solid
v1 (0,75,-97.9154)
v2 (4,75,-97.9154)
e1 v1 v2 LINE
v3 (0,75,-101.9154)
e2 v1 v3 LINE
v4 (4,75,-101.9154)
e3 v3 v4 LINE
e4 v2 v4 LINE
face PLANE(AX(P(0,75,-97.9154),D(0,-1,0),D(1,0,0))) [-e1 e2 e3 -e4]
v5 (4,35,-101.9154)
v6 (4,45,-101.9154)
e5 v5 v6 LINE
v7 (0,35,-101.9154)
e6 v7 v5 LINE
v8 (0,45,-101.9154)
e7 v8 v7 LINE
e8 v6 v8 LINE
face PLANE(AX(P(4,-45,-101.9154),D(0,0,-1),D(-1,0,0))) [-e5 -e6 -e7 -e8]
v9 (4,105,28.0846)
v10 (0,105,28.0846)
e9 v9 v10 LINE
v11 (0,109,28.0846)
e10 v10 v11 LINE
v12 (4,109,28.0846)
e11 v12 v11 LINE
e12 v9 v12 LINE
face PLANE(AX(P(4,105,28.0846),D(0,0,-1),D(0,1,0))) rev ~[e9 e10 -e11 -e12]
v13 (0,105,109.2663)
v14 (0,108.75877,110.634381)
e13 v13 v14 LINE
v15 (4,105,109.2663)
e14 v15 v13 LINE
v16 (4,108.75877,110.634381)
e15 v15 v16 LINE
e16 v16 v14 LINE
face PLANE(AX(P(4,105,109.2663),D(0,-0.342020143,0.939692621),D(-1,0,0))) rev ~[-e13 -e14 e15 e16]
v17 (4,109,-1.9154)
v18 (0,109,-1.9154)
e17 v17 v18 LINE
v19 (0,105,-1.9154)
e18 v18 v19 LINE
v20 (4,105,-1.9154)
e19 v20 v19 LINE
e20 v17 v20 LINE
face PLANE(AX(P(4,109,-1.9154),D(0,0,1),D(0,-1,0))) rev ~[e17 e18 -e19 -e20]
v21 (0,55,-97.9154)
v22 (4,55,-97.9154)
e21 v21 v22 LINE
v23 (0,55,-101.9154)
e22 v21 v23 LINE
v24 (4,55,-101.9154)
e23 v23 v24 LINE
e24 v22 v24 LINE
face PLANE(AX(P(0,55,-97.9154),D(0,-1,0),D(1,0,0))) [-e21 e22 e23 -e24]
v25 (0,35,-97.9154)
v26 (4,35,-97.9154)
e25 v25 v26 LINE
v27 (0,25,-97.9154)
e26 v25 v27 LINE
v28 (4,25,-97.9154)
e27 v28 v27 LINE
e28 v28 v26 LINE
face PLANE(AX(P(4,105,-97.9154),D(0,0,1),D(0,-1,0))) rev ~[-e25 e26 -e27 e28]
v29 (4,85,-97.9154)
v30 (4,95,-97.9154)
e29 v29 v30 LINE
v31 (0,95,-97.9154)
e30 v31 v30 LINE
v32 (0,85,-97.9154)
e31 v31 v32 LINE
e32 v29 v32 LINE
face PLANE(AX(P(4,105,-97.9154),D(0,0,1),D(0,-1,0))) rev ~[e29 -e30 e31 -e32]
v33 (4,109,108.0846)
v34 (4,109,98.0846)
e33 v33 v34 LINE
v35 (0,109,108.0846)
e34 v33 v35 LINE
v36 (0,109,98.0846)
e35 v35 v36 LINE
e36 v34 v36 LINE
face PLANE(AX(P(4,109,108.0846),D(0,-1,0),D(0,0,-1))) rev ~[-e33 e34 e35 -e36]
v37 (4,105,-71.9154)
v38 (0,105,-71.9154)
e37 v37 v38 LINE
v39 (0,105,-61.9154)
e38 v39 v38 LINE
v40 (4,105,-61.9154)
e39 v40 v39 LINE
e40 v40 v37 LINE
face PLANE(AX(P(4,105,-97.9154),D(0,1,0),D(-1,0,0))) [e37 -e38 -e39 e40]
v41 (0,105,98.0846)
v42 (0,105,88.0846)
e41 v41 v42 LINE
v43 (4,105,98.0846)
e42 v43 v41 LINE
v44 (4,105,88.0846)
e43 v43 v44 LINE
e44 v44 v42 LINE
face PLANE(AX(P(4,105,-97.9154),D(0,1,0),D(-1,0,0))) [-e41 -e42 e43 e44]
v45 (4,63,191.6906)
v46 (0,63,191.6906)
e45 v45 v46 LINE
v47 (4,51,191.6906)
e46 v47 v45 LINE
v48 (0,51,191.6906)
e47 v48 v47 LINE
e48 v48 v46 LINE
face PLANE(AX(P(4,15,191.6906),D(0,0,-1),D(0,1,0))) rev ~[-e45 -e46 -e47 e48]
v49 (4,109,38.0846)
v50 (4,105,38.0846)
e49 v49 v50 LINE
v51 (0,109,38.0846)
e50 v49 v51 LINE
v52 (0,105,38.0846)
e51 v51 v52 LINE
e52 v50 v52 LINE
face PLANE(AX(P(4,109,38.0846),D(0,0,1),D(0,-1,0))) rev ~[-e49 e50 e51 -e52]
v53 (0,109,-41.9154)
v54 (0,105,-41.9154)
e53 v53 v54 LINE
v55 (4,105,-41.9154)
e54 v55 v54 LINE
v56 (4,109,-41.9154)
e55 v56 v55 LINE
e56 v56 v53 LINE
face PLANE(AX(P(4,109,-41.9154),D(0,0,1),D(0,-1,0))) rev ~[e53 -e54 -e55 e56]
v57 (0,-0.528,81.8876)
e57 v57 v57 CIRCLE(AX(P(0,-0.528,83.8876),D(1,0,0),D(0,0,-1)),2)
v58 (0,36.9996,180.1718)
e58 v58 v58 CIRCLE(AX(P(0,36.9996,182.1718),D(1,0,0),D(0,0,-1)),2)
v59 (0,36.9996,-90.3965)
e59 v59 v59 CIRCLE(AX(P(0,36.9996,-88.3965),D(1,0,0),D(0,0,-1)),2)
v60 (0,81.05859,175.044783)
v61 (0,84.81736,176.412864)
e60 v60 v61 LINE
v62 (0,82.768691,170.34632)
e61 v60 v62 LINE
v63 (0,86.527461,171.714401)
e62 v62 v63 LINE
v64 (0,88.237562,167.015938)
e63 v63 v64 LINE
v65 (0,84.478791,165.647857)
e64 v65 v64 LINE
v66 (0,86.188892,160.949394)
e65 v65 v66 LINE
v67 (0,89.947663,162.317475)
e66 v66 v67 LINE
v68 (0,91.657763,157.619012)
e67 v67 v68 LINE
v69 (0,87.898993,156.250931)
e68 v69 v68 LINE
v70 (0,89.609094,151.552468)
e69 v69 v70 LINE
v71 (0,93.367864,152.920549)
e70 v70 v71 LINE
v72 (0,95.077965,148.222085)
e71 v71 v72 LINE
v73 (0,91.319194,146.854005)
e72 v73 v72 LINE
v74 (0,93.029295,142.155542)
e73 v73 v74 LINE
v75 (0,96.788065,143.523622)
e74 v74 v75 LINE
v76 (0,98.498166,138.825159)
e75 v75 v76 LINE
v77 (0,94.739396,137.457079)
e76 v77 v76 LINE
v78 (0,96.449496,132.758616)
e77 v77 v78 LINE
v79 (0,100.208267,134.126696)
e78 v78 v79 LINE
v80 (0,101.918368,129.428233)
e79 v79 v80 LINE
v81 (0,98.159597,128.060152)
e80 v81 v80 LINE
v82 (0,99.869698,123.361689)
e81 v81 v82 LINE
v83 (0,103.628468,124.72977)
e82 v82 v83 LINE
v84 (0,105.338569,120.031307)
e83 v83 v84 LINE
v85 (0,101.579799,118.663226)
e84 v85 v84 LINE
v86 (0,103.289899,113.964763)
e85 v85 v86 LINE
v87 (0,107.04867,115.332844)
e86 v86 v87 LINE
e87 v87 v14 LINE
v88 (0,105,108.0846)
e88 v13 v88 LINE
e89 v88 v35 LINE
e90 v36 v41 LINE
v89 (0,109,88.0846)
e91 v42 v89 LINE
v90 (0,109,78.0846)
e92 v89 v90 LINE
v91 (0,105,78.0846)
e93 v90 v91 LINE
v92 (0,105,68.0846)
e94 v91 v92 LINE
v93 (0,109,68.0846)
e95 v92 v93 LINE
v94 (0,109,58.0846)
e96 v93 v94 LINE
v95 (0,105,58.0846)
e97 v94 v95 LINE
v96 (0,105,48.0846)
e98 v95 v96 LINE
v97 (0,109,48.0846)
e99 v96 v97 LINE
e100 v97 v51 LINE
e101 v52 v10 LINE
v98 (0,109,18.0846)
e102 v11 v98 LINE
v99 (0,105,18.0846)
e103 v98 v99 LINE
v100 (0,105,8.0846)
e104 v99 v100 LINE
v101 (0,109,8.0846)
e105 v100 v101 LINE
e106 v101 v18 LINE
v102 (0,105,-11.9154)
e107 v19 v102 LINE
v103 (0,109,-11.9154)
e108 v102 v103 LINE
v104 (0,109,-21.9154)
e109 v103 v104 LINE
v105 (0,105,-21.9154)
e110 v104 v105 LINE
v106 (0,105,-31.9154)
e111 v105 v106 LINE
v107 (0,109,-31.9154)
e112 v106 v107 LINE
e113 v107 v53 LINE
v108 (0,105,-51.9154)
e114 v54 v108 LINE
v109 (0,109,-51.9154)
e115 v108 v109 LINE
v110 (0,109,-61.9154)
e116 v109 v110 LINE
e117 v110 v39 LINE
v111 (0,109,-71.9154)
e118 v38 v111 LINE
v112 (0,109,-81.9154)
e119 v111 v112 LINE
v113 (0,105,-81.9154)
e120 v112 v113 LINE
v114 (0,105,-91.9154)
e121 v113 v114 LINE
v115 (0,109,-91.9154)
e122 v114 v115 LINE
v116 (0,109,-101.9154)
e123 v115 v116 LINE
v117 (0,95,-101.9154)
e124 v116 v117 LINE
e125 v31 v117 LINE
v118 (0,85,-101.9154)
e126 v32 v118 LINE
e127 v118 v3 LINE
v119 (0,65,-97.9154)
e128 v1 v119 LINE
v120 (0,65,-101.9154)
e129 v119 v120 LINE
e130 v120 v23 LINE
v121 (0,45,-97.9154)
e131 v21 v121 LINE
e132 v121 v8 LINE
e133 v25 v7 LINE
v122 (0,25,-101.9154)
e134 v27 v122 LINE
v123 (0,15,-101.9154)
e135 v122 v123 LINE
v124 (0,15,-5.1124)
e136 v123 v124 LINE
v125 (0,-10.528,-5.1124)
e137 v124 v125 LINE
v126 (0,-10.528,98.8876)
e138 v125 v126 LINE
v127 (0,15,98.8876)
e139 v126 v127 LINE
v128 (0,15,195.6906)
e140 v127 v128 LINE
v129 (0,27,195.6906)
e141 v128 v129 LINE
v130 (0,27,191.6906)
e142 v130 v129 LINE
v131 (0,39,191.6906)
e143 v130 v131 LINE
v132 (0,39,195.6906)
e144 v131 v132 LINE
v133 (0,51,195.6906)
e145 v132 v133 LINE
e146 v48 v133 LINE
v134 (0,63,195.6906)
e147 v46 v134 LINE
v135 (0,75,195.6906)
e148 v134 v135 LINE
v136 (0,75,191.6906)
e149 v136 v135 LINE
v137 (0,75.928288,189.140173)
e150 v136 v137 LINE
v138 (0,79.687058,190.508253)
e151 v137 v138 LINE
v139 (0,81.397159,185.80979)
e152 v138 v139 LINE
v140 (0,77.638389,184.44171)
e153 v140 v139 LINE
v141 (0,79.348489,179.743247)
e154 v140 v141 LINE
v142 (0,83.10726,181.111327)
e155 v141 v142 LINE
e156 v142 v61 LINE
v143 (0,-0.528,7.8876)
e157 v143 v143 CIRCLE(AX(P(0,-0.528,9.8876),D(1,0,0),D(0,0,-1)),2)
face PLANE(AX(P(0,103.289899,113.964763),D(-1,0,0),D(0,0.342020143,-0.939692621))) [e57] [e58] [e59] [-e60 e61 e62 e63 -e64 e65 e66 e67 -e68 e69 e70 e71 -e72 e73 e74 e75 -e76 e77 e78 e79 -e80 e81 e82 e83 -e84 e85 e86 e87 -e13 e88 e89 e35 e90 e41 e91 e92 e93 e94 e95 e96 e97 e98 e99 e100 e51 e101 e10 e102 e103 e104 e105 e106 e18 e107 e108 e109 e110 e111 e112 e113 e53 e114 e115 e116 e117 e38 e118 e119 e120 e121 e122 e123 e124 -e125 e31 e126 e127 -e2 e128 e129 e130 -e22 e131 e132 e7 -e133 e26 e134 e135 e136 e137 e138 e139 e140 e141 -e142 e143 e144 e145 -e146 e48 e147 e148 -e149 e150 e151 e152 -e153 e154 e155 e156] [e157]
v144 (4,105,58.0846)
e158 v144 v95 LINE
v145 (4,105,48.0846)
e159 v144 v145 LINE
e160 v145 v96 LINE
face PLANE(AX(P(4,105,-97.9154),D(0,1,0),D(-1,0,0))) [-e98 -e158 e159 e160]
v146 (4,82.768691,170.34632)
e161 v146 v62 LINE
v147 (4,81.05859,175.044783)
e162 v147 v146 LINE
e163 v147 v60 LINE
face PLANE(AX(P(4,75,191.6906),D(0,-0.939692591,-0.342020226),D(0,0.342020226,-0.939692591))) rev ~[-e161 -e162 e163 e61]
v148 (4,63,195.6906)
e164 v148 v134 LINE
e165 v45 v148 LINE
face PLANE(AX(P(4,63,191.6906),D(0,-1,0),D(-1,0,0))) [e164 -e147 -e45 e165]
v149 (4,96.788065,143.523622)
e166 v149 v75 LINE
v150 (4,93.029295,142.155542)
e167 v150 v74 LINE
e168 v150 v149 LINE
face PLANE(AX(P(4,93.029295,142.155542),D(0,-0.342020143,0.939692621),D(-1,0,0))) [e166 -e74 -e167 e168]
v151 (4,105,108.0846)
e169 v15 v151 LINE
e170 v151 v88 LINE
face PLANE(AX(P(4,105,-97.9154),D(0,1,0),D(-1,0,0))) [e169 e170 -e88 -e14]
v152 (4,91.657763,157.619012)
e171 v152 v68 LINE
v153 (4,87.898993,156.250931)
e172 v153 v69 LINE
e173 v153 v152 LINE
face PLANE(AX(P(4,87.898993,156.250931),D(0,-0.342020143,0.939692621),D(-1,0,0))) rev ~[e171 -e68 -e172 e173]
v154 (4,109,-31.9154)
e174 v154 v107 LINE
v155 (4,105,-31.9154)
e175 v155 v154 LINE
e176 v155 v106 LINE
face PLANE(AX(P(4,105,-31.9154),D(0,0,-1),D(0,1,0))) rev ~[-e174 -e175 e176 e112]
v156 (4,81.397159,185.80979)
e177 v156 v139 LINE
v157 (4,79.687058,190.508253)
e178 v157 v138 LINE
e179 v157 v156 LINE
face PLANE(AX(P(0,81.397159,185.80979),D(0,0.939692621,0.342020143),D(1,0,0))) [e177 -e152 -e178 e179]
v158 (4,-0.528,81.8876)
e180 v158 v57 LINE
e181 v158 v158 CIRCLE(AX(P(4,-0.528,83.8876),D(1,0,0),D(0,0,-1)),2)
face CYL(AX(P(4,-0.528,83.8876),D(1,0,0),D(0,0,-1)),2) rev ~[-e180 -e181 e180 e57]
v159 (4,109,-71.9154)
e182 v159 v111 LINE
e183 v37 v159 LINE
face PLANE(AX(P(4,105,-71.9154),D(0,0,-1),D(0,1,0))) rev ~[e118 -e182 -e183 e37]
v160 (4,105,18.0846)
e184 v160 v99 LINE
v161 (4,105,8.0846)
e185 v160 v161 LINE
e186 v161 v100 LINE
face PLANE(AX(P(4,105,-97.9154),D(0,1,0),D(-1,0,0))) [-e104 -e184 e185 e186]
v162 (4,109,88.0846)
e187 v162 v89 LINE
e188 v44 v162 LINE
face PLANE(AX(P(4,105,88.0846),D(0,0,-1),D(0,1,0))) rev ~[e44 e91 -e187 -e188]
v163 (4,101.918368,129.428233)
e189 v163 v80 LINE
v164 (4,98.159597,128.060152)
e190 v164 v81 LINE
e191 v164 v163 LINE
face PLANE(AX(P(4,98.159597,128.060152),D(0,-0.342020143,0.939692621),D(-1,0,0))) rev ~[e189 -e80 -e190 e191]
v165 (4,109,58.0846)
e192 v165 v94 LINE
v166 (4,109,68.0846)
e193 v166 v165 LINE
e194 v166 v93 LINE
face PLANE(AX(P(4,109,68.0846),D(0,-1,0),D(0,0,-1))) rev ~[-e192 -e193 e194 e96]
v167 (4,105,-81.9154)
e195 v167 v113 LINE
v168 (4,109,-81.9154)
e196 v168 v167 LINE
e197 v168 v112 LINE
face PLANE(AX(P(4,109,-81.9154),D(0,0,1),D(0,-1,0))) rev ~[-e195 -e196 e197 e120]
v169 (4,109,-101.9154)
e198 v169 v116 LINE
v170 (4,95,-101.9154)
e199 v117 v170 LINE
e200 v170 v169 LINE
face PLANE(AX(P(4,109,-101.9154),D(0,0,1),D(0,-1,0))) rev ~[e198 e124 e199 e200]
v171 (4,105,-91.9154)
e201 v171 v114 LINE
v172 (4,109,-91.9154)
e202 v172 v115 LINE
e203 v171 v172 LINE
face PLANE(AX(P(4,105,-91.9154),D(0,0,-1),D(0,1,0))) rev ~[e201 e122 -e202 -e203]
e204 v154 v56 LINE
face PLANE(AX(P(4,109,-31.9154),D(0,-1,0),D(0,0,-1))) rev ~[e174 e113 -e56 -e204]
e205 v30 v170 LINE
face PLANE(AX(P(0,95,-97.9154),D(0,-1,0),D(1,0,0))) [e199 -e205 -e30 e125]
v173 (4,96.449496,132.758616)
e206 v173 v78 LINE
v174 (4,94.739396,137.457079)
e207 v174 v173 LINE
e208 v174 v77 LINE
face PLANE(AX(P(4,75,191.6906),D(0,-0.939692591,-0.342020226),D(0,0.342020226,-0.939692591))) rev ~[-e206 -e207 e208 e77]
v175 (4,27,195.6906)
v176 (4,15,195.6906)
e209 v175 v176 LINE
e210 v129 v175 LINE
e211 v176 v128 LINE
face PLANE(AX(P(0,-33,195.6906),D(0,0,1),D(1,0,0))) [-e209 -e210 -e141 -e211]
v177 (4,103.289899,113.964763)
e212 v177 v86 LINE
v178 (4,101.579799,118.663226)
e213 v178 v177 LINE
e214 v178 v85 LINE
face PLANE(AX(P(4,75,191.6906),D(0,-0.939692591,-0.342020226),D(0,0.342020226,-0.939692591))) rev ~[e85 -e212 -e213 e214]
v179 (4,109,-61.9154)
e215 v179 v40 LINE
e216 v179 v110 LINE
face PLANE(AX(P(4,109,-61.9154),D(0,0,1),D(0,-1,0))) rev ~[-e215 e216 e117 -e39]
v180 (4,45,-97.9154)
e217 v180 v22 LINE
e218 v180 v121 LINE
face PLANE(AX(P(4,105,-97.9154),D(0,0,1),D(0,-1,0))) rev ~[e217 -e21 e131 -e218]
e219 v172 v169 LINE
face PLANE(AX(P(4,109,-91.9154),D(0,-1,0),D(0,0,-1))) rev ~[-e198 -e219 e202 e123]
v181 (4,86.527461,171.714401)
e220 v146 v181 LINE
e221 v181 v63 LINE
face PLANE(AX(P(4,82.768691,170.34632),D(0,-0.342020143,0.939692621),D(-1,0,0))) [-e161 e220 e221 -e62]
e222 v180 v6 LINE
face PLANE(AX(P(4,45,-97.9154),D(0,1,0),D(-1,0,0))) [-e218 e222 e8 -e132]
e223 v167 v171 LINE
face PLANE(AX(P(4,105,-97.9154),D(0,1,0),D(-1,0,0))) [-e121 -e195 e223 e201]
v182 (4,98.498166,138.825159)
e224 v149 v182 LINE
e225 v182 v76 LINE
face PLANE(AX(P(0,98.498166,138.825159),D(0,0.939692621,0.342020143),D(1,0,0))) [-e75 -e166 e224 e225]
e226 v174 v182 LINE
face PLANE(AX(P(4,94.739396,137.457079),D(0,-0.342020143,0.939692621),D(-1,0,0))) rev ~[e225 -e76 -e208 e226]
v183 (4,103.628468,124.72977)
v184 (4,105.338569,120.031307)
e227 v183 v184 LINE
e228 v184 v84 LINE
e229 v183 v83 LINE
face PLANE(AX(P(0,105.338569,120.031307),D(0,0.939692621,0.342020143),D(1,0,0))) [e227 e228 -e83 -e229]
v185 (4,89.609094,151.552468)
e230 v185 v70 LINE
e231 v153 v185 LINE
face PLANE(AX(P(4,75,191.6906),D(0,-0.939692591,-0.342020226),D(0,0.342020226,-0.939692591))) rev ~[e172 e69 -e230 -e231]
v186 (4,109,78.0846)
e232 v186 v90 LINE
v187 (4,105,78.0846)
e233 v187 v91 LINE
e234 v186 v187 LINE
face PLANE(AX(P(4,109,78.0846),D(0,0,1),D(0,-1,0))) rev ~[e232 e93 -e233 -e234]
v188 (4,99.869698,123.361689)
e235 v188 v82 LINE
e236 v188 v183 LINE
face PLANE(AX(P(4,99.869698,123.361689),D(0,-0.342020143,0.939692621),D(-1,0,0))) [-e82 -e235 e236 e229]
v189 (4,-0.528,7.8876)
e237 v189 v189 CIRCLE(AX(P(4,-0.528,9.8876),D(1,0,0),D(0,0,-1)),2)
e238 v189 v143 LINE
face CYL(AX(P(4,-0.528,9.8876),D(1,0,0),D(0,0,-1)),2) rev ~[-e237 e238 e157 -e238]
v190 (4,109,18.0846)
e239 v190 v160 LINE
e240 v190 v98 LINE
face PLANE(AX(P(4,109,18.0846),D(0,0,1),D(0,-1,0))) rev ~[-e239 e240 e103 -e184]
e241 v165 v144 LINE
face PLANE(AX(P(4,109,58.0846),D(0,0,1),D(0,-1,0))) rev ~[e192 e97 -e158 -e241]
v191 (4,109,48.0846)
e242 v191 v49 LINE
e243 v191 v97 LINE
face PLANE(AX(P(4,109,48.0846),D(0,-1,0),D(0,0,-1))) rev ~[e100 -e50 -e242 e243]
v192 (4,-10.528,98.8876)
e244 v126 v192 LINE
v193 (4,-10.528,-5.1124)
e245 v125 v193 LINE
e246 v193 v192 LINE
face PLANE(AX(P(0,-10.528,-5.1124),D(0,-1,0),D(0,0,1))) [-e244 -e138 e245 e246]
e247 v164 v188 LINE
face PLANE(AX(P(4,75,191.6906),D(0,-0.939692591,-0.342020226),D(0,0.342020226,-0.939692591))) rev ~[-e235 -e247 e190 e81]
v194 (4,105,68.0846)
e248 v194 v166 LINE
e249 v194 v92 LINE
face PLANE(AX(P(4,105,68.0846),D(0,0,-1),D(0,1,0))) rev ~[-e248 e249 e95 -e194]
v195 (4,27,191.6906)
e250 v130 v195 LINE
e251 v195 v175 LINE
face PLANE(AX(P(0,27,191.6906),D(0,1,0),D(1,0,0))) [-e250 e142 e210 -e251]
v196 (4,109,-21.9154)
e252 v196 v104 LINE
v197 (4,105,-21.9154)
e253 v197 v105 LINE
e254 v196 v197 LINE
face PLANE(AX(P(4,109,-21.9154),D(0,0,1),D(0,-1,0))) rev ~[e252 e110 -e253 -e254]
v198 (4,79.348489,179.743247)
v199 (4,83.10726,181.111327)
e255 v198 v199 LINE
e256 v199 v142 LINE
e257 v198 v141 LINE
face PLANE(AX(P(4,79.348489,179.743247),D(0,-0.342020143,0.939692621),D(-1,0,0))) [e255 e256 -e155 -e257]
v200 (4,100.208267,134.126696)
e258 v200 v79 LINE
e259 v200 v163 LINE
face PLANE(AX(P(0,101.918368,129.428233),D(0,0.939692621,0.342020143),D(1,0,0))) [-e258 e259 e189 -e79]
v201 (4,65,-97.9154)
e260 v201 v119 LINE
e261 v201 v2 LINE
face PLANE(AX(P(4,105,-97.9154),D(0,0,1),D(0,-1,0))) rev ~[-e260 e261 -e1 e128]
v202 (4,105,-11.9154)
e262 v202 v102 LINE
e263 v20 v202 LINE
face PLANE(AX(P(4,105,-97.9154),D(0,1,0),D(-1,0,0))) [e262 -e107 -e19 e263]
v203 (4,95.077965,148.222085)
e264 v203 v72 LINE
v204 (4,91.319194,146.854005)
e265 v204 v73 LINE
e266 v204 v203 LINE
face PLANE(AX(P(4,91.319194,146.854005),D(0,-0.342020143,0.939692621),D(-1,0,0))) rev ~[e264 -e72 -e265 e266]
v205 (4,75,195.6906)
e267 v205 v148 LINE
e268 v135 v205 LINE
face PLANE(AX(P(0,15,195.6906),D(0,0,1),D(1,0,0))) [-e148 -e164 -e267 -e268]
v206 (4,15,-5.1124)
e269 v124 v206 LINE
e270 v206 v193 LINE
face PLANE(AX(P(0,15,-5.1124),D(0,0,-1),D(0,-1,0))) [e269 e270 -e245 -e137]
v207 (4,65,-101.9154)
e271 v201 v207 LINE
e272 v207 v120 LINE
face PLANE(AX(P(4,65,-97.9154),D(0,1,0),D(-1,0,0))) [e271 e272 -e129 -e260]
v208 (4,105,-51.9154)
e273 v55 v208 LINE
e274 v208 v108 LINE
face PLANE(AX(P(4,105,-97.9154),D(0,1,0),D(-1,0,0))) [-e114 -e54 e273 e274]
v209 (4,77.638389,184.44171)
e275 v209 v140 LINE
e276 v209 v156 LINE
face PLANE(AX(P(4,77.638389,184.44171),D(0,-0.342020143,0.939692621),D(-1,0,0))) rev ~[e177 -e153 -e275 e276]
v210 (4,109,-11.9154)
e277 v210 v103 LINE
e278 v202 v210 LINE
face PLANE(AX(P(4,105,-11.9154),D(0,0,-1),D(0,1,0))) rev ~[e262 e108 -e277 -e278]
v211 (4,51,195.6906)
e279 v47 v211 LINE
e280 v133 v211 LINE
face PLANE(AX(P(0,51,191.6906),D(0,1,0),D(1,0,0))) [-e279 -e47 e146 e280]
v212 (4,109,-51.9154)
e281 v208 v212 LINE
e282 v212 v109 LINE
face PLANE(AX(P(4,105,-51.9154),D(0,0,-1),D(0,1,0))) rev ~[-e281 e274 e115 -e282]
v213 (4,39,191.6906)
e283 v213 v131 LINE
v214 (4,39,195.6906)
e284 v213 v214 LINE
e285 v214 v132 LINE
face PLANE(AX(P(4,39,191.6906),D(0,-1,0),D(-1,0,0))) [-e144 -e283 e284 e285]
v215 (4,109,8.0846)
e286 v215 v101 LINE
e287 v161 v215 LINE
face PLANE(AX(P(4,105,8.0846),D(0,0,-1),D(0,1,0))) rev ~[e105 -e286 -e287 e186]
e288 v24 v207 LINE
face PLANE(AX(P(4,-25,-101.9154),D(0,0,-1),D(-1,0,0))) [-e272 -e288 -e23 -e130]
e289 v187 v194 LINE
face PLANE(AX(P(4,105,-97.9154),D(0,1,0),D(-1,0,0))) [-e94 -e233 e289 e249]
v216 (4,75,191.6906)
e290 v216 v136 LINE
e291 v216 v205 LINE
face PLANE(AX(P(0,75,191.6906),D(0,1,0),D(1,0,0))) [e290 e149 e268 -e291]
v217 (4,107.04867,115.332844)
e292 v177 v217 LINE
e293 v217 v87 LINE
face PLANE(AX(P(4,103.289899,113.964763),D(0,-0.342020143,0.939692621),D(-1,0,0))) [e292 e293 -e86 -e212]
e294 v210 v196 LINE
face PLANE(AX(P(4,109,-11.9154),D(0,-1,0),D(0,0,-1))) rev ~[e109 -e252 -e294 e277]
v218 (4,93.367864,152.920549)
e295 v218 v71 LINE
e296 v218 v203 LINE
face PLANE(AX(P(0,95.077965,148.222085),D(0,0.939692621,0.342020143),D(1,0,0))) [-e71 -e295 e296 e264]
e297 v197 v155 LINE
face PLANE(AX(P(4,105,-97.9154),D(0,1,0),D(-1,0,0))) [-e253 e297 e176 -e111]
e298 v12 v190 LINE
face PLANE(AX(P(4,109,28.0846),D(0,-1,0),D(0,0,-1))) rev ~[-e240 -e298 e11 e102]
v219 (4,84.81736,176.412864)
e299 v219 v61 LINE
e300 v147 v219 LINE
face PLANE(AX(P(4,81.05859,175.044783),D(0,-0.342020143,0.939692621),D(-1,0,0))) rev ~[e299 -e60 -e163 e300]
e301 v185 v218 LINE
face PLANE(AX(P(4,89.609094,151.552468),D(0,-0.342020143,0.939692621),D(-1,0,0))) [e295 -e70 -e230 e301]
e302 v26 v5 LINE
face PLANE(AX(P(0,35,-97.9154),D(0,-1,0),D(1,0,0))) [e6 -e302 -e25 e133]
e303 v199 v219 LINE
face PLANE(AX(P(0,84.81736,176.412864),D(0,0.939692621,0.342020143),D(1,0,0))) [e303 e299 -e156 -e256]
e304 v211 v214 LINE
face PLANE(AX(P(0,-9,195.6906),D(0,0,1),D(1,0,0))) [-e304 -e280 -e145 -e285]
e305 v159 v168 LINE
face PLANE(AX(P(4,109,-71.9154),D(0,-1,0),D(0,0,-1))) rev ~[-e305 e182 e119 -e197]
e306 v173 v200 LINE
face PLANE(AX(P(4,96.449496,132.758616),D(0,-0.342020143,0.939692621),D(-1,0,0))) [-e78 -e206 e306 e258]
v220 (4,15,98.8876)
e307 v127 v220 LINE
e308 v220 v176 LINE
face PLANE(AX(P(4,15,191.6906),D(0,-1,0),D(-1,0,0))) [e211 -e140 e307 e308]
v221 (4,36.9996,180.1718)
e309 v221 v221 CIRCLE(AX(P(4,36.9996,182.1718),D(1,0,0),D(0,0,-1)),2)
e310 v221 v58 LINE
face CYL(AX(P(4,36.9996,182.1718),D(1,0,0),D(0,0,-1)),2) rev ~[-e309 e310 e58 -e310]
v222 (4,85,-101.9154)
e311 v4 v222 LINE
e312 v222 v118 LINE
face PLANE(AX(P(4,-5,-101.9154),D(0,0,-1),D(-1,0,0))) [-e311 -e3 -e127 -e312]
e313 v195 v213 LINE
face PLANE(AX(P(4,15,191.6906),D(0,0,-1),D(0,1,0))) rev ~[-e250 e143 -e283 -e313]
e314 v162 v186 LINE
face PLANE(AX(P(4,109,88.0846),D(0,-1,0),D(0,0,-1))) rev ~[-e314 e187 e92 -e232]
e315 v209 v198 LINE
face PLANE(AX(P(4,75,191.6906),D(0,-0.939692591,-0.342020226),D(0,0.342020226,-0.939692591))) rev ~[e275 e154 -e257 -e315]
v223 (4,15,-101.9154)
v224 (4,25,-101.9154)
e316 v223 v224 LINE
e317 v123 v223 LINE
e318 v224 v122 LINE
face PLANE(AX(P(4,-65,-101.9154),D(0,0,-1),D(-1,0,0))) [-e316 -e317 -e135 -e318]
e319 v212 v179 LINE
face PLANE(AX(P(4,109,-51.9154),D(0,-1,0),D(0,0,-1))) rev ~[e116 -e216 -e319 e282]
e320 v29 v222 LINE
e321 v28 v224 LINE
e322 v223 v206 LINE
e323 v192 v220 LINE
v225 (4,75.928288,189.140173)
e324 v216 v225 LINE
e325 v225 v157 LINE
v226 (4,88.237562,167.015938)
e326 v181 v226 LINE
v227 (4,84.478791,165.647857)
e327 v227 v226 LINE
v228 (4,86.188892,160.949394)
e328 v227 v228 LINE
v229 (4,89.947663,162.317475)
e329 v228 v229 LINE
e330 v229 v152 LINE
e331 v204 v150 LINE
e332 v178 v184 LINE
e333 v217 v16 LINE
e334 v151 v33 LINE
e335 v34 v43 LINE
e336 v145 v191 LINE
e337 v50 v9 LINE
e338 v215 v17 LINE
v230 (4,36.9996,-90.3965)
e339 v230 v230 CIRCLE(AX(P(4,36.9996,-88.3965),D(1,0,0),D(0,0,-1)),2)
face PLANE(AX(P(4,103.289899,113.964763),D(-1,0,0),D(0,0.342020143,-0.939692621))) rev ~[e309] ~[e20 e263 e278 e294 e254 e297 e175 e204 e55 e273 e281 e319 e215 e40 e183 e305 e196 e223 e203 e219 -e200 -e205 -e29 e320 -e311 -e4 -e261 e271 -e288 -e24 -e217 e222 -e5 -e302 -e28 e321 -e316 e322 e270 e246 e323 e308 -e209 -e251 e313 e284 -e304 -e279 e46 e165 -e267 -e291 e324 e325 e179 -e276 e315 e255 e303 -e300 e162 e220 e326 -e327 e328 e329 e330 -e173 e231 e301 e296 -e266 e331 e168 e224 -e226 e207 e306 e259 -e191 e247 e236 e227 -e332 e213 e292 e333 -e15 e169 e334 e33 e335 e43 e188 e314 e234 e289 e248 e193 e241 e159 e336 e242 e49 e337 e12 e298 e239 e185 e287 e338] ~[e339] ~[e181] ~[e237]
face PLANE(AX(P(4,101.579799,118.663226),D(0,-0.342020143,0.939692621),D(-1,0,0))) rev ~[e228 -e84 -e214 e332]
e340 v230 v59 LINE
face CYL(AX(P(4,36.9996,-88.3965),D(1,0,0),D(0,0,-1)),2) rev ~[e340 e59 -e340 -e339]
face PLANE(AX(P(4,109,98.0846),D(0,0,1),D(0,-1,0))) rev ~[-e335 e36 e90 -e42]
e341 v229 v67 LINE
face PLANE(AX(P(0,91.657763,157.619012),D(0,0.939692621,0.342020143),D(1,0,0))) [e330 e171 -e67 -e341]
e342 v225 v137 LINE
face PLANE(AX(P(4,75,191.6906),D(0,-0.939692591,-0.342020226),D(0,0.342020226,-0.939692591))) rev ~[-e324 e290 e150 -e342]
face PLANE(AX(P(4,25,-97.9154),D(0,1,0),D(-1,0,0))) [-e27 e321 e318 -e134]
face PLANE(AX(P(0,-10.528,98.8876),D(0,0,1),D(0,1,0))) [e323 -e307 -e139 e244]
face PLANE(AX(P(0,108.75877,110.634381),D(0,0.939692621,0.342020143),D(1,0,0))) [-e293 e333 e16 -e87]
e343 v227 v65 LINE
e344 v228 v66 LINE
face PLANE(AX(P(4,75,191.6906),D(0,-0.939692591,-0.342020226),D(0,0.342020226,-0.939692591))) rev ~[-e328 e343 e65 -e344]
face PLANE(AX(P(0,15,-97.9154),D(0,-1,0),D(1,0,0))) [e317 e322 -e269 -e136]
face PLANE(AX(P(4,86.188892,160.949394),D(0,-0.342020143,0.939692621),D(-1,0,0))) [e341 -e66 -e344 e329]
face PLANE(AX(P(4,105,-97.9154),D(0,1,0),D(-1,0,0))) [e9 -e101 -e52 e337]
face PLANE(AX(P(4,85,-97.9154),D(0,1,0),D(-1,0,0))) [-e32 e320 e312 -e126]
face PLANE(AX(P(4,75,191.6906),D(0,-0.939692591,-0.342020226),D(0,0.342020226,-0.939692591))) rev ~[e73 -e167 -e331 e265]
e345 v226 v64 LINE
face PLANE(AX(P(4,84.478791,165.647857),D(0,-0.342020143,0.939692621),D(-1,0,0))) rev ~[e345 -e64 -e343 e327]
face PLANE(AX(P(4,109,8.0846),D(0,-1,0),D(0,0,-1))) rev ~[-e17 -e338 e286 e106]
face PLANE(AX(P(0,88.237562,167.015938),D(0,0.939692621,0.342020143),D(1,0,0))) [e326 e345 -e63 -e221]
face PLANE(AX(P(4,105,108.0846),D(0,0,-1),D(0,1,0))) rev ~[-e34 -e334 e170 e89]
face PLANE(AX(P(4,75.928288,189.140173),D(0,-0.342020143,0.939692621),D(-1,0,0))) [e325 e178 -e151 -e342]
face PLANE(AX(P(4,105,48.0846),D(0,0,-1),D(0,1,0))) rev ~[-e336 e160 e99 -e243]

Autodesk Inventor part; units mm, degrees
ref_plane "YZ Plane" through (0, 0, 0) normal (1, 0, 0) x (0, 1, 0)
ref_plane "XZ Plane" through (0, 0, 0) normal (0, 1, 0) x (-1, 0, 0)
ref_plane "XY Plane" through (0, 0, 0) normal (0, 0, 1) x (1, 0, 0)
sketch "Эскиз1" plane through (0, 0, 0) normal (1, 0, 0) x (0, 1, 0)
  line L0 (-10.528, 98.8876) -> (15, 98.8876)
  line L1 (15, 98.8876) -> (15, -5.1124)
  line L2 (15, -5.1124) -> (-10.528, -5.1124)
  line L3 (-10.528, -5.1124) -> (-10.528, 98.8876)
  point P0 (0, 0)
  dimension "d0" = 25.528
  dimension "d1" = 104
extrude "Выдавливание1" add sketch "Эскиз1" along normal blind 4
sketch "Эскиз2" plane through (4, 0, 0) normal (1, 0, 0) x (0, 0, -1)
  circle A0 centre (-9.8876, -0.528) radius 2 projected
  circle A1 centre (-83.8876, -0.528) radius 2 projected
  point P0 (0, 0)
extrude "Выдавливание2" cut sketch "Эскиз2" against normal blind 4
sketch "Эскиз3" plane through (4, 0, 0) normal (1, 0, 0) x (0, 0, -1)
  line L0 (-191.6906, 75) -> (97.9154, 75)
  line L1 (97.9154, 75) -> (97.9154, 15)
  line L2 (97.9154, 15) -> (-191.6906, 15)
  line L3 (-191.6906, 15) -> (-191.6906, 75)
  line L4 (-98.8876, 15) -> (-98.8876, -10.528) projected
  line L5 (5.1124, -10.528) -> (5.1124, 15) projected
  point P0 (0, 0)
  dimension "d6" = 92.803
  dimension "d7" = 92.803
  dimension "d8" = 60
extrude "Выдавливание3" add sketch "Эскиз3" against normal blind 4
sketch "Эскиз4" plane through (4, 0, 0) normal (1, 0, 0) x (0, 0, -1)
  line L0 (-191.6906, 75) -> (97.9154, 75) projected
  line L1 (-191.6906, 75) -> (-109.2663, 105)
  line L2 (-109.2663, 105) -> (97.9154, 105)
  line L3 (97.9154, 105) -> (97.9154, 75)
  line L4 (97.9154, 75) -> (-191.6906, 75) projected
  line L5 (-98.8876, -10.528) -> (5.1124, -10.528) projected
  line L6 (-46.8876, -10.528) -> (-46.8876, 5.327)
  point P0 (0, 0)
  dimension "d11" = 30
  dimension "d12" = 90
  dimension "d15" = 20
extrude "Выдавливание4" add sketch "Эскиз4" against normal blind 4
sketch "Эскиз5" plane through (0, 15, 191.6906) normal (0, 0, 1) x (1, 0, 0)
  line L0 (0, 0) -> (0, 60) projected
  line L1 (4, 60) -> (4, 0) projected
  line L2 (0, 60) -> (4, 60)
  line L3 (4, 60) -> (4, 48)
  line L4 (4, 48) -> (0, 48)
  line L5 (0, 48) -> (0, 60)
  point P0 (0, -15)
  point P1 (0, 48)
  dimension "d16" = 12
extrude "Выдавливание5" add sketch "Эскиз5" along normal blind 4
pattern_linear "Прямоуг.массив1" count 3 spacing 24 along (0, -1, 0) of "Выдавливание5"
sketch "Эскиз6" plane through (4, 15, -97.9154) normal (0, 0, -1) x (-1, 0, 0)
  line L0 (4, 90) -> (4, 0) projected
  line L1 (0, 90) -> (4, 90)
  line L2 (4, 90) -> (4, 80)
  line L3 (4, 80) -> (0, 80)
  line L4 (0, 80) -> (0, 90)
  point P0 (4, -15)
  dimension "d22" = 10
extrude "Выдавливание6" add sketch "Эскиз6" along normal blind 4
pattern_linear "Прямоуг.массив2" count 5 spacing 20 along (0, -1, 0) of "Выдавливание6"
sketch "Эскиз7" plane through (4, 0, 0) normal (1, 0, 0) x (0, 0, -1)
  line L0 (-109.2663, 105) -> (101.9154, 105) projected
  line L1 (101.9154, 105) -> (91.9154, 105)
  line L2 (91.9154, 105) -> (91.9154, 109)
  line L3 (91.9154, 109) -> (101.9154, 109)
  line L4 (101.9154, 109) -> (101.9154, 105)
  point P0 (0, 0)
  dimension "d28" = 10
  dimension "d29" = 4
extrude "Выдавливание7" add sketch "Эскиз7" against normal blind 4
pattern_linear "Прямоуг.массив3" count 11 spacing 20 along (0, 0, 1) of "Выдавливание7"
sketch "Эскиз8" plane through (4, 0, 0) normal (1, 0, 0) x (0, 0, -1)
  circle A0 centre (-182.1718, 36.9996) radius 2 projected
  circle A1 centre (88.3965, 36.9996) radius 2 projected
  point P0 (0, 0)
extrude "Выдавливание8" cut sketch "Эскиз8" against normal blind 4
sketch "Эскиз9" plane through (0, 105, 109.2663) normal (0, 0.9397, 0.342) x (1, 0, 0)
  line L0 (4, 0) -> (0, 0) projected
  line L1 (4, -29.7601) -> (4, 67.9679) projected
  line L2 (0, 0) -> (4, 0)
  line L3 (4, 0) -> (4, -5)
  line L4 (4, -5) -> (0, -5)
  line L5 (0, -5) -> (0, 0)
  point P0 (0, 66.7646)
  dimension "d37" = 5
extrude "Выдавливание9" add sketch "Эскиз9" along normal blind 4
pattern_linear "Прямоуг.массив4" count 9 spacing 10 along (0, -0.342, 0.9397) of "Выдавливание9"
equation "\"d7\" = d6"
properties part number "KB33-046-004-007 - Центральная левая боковая пластина"
